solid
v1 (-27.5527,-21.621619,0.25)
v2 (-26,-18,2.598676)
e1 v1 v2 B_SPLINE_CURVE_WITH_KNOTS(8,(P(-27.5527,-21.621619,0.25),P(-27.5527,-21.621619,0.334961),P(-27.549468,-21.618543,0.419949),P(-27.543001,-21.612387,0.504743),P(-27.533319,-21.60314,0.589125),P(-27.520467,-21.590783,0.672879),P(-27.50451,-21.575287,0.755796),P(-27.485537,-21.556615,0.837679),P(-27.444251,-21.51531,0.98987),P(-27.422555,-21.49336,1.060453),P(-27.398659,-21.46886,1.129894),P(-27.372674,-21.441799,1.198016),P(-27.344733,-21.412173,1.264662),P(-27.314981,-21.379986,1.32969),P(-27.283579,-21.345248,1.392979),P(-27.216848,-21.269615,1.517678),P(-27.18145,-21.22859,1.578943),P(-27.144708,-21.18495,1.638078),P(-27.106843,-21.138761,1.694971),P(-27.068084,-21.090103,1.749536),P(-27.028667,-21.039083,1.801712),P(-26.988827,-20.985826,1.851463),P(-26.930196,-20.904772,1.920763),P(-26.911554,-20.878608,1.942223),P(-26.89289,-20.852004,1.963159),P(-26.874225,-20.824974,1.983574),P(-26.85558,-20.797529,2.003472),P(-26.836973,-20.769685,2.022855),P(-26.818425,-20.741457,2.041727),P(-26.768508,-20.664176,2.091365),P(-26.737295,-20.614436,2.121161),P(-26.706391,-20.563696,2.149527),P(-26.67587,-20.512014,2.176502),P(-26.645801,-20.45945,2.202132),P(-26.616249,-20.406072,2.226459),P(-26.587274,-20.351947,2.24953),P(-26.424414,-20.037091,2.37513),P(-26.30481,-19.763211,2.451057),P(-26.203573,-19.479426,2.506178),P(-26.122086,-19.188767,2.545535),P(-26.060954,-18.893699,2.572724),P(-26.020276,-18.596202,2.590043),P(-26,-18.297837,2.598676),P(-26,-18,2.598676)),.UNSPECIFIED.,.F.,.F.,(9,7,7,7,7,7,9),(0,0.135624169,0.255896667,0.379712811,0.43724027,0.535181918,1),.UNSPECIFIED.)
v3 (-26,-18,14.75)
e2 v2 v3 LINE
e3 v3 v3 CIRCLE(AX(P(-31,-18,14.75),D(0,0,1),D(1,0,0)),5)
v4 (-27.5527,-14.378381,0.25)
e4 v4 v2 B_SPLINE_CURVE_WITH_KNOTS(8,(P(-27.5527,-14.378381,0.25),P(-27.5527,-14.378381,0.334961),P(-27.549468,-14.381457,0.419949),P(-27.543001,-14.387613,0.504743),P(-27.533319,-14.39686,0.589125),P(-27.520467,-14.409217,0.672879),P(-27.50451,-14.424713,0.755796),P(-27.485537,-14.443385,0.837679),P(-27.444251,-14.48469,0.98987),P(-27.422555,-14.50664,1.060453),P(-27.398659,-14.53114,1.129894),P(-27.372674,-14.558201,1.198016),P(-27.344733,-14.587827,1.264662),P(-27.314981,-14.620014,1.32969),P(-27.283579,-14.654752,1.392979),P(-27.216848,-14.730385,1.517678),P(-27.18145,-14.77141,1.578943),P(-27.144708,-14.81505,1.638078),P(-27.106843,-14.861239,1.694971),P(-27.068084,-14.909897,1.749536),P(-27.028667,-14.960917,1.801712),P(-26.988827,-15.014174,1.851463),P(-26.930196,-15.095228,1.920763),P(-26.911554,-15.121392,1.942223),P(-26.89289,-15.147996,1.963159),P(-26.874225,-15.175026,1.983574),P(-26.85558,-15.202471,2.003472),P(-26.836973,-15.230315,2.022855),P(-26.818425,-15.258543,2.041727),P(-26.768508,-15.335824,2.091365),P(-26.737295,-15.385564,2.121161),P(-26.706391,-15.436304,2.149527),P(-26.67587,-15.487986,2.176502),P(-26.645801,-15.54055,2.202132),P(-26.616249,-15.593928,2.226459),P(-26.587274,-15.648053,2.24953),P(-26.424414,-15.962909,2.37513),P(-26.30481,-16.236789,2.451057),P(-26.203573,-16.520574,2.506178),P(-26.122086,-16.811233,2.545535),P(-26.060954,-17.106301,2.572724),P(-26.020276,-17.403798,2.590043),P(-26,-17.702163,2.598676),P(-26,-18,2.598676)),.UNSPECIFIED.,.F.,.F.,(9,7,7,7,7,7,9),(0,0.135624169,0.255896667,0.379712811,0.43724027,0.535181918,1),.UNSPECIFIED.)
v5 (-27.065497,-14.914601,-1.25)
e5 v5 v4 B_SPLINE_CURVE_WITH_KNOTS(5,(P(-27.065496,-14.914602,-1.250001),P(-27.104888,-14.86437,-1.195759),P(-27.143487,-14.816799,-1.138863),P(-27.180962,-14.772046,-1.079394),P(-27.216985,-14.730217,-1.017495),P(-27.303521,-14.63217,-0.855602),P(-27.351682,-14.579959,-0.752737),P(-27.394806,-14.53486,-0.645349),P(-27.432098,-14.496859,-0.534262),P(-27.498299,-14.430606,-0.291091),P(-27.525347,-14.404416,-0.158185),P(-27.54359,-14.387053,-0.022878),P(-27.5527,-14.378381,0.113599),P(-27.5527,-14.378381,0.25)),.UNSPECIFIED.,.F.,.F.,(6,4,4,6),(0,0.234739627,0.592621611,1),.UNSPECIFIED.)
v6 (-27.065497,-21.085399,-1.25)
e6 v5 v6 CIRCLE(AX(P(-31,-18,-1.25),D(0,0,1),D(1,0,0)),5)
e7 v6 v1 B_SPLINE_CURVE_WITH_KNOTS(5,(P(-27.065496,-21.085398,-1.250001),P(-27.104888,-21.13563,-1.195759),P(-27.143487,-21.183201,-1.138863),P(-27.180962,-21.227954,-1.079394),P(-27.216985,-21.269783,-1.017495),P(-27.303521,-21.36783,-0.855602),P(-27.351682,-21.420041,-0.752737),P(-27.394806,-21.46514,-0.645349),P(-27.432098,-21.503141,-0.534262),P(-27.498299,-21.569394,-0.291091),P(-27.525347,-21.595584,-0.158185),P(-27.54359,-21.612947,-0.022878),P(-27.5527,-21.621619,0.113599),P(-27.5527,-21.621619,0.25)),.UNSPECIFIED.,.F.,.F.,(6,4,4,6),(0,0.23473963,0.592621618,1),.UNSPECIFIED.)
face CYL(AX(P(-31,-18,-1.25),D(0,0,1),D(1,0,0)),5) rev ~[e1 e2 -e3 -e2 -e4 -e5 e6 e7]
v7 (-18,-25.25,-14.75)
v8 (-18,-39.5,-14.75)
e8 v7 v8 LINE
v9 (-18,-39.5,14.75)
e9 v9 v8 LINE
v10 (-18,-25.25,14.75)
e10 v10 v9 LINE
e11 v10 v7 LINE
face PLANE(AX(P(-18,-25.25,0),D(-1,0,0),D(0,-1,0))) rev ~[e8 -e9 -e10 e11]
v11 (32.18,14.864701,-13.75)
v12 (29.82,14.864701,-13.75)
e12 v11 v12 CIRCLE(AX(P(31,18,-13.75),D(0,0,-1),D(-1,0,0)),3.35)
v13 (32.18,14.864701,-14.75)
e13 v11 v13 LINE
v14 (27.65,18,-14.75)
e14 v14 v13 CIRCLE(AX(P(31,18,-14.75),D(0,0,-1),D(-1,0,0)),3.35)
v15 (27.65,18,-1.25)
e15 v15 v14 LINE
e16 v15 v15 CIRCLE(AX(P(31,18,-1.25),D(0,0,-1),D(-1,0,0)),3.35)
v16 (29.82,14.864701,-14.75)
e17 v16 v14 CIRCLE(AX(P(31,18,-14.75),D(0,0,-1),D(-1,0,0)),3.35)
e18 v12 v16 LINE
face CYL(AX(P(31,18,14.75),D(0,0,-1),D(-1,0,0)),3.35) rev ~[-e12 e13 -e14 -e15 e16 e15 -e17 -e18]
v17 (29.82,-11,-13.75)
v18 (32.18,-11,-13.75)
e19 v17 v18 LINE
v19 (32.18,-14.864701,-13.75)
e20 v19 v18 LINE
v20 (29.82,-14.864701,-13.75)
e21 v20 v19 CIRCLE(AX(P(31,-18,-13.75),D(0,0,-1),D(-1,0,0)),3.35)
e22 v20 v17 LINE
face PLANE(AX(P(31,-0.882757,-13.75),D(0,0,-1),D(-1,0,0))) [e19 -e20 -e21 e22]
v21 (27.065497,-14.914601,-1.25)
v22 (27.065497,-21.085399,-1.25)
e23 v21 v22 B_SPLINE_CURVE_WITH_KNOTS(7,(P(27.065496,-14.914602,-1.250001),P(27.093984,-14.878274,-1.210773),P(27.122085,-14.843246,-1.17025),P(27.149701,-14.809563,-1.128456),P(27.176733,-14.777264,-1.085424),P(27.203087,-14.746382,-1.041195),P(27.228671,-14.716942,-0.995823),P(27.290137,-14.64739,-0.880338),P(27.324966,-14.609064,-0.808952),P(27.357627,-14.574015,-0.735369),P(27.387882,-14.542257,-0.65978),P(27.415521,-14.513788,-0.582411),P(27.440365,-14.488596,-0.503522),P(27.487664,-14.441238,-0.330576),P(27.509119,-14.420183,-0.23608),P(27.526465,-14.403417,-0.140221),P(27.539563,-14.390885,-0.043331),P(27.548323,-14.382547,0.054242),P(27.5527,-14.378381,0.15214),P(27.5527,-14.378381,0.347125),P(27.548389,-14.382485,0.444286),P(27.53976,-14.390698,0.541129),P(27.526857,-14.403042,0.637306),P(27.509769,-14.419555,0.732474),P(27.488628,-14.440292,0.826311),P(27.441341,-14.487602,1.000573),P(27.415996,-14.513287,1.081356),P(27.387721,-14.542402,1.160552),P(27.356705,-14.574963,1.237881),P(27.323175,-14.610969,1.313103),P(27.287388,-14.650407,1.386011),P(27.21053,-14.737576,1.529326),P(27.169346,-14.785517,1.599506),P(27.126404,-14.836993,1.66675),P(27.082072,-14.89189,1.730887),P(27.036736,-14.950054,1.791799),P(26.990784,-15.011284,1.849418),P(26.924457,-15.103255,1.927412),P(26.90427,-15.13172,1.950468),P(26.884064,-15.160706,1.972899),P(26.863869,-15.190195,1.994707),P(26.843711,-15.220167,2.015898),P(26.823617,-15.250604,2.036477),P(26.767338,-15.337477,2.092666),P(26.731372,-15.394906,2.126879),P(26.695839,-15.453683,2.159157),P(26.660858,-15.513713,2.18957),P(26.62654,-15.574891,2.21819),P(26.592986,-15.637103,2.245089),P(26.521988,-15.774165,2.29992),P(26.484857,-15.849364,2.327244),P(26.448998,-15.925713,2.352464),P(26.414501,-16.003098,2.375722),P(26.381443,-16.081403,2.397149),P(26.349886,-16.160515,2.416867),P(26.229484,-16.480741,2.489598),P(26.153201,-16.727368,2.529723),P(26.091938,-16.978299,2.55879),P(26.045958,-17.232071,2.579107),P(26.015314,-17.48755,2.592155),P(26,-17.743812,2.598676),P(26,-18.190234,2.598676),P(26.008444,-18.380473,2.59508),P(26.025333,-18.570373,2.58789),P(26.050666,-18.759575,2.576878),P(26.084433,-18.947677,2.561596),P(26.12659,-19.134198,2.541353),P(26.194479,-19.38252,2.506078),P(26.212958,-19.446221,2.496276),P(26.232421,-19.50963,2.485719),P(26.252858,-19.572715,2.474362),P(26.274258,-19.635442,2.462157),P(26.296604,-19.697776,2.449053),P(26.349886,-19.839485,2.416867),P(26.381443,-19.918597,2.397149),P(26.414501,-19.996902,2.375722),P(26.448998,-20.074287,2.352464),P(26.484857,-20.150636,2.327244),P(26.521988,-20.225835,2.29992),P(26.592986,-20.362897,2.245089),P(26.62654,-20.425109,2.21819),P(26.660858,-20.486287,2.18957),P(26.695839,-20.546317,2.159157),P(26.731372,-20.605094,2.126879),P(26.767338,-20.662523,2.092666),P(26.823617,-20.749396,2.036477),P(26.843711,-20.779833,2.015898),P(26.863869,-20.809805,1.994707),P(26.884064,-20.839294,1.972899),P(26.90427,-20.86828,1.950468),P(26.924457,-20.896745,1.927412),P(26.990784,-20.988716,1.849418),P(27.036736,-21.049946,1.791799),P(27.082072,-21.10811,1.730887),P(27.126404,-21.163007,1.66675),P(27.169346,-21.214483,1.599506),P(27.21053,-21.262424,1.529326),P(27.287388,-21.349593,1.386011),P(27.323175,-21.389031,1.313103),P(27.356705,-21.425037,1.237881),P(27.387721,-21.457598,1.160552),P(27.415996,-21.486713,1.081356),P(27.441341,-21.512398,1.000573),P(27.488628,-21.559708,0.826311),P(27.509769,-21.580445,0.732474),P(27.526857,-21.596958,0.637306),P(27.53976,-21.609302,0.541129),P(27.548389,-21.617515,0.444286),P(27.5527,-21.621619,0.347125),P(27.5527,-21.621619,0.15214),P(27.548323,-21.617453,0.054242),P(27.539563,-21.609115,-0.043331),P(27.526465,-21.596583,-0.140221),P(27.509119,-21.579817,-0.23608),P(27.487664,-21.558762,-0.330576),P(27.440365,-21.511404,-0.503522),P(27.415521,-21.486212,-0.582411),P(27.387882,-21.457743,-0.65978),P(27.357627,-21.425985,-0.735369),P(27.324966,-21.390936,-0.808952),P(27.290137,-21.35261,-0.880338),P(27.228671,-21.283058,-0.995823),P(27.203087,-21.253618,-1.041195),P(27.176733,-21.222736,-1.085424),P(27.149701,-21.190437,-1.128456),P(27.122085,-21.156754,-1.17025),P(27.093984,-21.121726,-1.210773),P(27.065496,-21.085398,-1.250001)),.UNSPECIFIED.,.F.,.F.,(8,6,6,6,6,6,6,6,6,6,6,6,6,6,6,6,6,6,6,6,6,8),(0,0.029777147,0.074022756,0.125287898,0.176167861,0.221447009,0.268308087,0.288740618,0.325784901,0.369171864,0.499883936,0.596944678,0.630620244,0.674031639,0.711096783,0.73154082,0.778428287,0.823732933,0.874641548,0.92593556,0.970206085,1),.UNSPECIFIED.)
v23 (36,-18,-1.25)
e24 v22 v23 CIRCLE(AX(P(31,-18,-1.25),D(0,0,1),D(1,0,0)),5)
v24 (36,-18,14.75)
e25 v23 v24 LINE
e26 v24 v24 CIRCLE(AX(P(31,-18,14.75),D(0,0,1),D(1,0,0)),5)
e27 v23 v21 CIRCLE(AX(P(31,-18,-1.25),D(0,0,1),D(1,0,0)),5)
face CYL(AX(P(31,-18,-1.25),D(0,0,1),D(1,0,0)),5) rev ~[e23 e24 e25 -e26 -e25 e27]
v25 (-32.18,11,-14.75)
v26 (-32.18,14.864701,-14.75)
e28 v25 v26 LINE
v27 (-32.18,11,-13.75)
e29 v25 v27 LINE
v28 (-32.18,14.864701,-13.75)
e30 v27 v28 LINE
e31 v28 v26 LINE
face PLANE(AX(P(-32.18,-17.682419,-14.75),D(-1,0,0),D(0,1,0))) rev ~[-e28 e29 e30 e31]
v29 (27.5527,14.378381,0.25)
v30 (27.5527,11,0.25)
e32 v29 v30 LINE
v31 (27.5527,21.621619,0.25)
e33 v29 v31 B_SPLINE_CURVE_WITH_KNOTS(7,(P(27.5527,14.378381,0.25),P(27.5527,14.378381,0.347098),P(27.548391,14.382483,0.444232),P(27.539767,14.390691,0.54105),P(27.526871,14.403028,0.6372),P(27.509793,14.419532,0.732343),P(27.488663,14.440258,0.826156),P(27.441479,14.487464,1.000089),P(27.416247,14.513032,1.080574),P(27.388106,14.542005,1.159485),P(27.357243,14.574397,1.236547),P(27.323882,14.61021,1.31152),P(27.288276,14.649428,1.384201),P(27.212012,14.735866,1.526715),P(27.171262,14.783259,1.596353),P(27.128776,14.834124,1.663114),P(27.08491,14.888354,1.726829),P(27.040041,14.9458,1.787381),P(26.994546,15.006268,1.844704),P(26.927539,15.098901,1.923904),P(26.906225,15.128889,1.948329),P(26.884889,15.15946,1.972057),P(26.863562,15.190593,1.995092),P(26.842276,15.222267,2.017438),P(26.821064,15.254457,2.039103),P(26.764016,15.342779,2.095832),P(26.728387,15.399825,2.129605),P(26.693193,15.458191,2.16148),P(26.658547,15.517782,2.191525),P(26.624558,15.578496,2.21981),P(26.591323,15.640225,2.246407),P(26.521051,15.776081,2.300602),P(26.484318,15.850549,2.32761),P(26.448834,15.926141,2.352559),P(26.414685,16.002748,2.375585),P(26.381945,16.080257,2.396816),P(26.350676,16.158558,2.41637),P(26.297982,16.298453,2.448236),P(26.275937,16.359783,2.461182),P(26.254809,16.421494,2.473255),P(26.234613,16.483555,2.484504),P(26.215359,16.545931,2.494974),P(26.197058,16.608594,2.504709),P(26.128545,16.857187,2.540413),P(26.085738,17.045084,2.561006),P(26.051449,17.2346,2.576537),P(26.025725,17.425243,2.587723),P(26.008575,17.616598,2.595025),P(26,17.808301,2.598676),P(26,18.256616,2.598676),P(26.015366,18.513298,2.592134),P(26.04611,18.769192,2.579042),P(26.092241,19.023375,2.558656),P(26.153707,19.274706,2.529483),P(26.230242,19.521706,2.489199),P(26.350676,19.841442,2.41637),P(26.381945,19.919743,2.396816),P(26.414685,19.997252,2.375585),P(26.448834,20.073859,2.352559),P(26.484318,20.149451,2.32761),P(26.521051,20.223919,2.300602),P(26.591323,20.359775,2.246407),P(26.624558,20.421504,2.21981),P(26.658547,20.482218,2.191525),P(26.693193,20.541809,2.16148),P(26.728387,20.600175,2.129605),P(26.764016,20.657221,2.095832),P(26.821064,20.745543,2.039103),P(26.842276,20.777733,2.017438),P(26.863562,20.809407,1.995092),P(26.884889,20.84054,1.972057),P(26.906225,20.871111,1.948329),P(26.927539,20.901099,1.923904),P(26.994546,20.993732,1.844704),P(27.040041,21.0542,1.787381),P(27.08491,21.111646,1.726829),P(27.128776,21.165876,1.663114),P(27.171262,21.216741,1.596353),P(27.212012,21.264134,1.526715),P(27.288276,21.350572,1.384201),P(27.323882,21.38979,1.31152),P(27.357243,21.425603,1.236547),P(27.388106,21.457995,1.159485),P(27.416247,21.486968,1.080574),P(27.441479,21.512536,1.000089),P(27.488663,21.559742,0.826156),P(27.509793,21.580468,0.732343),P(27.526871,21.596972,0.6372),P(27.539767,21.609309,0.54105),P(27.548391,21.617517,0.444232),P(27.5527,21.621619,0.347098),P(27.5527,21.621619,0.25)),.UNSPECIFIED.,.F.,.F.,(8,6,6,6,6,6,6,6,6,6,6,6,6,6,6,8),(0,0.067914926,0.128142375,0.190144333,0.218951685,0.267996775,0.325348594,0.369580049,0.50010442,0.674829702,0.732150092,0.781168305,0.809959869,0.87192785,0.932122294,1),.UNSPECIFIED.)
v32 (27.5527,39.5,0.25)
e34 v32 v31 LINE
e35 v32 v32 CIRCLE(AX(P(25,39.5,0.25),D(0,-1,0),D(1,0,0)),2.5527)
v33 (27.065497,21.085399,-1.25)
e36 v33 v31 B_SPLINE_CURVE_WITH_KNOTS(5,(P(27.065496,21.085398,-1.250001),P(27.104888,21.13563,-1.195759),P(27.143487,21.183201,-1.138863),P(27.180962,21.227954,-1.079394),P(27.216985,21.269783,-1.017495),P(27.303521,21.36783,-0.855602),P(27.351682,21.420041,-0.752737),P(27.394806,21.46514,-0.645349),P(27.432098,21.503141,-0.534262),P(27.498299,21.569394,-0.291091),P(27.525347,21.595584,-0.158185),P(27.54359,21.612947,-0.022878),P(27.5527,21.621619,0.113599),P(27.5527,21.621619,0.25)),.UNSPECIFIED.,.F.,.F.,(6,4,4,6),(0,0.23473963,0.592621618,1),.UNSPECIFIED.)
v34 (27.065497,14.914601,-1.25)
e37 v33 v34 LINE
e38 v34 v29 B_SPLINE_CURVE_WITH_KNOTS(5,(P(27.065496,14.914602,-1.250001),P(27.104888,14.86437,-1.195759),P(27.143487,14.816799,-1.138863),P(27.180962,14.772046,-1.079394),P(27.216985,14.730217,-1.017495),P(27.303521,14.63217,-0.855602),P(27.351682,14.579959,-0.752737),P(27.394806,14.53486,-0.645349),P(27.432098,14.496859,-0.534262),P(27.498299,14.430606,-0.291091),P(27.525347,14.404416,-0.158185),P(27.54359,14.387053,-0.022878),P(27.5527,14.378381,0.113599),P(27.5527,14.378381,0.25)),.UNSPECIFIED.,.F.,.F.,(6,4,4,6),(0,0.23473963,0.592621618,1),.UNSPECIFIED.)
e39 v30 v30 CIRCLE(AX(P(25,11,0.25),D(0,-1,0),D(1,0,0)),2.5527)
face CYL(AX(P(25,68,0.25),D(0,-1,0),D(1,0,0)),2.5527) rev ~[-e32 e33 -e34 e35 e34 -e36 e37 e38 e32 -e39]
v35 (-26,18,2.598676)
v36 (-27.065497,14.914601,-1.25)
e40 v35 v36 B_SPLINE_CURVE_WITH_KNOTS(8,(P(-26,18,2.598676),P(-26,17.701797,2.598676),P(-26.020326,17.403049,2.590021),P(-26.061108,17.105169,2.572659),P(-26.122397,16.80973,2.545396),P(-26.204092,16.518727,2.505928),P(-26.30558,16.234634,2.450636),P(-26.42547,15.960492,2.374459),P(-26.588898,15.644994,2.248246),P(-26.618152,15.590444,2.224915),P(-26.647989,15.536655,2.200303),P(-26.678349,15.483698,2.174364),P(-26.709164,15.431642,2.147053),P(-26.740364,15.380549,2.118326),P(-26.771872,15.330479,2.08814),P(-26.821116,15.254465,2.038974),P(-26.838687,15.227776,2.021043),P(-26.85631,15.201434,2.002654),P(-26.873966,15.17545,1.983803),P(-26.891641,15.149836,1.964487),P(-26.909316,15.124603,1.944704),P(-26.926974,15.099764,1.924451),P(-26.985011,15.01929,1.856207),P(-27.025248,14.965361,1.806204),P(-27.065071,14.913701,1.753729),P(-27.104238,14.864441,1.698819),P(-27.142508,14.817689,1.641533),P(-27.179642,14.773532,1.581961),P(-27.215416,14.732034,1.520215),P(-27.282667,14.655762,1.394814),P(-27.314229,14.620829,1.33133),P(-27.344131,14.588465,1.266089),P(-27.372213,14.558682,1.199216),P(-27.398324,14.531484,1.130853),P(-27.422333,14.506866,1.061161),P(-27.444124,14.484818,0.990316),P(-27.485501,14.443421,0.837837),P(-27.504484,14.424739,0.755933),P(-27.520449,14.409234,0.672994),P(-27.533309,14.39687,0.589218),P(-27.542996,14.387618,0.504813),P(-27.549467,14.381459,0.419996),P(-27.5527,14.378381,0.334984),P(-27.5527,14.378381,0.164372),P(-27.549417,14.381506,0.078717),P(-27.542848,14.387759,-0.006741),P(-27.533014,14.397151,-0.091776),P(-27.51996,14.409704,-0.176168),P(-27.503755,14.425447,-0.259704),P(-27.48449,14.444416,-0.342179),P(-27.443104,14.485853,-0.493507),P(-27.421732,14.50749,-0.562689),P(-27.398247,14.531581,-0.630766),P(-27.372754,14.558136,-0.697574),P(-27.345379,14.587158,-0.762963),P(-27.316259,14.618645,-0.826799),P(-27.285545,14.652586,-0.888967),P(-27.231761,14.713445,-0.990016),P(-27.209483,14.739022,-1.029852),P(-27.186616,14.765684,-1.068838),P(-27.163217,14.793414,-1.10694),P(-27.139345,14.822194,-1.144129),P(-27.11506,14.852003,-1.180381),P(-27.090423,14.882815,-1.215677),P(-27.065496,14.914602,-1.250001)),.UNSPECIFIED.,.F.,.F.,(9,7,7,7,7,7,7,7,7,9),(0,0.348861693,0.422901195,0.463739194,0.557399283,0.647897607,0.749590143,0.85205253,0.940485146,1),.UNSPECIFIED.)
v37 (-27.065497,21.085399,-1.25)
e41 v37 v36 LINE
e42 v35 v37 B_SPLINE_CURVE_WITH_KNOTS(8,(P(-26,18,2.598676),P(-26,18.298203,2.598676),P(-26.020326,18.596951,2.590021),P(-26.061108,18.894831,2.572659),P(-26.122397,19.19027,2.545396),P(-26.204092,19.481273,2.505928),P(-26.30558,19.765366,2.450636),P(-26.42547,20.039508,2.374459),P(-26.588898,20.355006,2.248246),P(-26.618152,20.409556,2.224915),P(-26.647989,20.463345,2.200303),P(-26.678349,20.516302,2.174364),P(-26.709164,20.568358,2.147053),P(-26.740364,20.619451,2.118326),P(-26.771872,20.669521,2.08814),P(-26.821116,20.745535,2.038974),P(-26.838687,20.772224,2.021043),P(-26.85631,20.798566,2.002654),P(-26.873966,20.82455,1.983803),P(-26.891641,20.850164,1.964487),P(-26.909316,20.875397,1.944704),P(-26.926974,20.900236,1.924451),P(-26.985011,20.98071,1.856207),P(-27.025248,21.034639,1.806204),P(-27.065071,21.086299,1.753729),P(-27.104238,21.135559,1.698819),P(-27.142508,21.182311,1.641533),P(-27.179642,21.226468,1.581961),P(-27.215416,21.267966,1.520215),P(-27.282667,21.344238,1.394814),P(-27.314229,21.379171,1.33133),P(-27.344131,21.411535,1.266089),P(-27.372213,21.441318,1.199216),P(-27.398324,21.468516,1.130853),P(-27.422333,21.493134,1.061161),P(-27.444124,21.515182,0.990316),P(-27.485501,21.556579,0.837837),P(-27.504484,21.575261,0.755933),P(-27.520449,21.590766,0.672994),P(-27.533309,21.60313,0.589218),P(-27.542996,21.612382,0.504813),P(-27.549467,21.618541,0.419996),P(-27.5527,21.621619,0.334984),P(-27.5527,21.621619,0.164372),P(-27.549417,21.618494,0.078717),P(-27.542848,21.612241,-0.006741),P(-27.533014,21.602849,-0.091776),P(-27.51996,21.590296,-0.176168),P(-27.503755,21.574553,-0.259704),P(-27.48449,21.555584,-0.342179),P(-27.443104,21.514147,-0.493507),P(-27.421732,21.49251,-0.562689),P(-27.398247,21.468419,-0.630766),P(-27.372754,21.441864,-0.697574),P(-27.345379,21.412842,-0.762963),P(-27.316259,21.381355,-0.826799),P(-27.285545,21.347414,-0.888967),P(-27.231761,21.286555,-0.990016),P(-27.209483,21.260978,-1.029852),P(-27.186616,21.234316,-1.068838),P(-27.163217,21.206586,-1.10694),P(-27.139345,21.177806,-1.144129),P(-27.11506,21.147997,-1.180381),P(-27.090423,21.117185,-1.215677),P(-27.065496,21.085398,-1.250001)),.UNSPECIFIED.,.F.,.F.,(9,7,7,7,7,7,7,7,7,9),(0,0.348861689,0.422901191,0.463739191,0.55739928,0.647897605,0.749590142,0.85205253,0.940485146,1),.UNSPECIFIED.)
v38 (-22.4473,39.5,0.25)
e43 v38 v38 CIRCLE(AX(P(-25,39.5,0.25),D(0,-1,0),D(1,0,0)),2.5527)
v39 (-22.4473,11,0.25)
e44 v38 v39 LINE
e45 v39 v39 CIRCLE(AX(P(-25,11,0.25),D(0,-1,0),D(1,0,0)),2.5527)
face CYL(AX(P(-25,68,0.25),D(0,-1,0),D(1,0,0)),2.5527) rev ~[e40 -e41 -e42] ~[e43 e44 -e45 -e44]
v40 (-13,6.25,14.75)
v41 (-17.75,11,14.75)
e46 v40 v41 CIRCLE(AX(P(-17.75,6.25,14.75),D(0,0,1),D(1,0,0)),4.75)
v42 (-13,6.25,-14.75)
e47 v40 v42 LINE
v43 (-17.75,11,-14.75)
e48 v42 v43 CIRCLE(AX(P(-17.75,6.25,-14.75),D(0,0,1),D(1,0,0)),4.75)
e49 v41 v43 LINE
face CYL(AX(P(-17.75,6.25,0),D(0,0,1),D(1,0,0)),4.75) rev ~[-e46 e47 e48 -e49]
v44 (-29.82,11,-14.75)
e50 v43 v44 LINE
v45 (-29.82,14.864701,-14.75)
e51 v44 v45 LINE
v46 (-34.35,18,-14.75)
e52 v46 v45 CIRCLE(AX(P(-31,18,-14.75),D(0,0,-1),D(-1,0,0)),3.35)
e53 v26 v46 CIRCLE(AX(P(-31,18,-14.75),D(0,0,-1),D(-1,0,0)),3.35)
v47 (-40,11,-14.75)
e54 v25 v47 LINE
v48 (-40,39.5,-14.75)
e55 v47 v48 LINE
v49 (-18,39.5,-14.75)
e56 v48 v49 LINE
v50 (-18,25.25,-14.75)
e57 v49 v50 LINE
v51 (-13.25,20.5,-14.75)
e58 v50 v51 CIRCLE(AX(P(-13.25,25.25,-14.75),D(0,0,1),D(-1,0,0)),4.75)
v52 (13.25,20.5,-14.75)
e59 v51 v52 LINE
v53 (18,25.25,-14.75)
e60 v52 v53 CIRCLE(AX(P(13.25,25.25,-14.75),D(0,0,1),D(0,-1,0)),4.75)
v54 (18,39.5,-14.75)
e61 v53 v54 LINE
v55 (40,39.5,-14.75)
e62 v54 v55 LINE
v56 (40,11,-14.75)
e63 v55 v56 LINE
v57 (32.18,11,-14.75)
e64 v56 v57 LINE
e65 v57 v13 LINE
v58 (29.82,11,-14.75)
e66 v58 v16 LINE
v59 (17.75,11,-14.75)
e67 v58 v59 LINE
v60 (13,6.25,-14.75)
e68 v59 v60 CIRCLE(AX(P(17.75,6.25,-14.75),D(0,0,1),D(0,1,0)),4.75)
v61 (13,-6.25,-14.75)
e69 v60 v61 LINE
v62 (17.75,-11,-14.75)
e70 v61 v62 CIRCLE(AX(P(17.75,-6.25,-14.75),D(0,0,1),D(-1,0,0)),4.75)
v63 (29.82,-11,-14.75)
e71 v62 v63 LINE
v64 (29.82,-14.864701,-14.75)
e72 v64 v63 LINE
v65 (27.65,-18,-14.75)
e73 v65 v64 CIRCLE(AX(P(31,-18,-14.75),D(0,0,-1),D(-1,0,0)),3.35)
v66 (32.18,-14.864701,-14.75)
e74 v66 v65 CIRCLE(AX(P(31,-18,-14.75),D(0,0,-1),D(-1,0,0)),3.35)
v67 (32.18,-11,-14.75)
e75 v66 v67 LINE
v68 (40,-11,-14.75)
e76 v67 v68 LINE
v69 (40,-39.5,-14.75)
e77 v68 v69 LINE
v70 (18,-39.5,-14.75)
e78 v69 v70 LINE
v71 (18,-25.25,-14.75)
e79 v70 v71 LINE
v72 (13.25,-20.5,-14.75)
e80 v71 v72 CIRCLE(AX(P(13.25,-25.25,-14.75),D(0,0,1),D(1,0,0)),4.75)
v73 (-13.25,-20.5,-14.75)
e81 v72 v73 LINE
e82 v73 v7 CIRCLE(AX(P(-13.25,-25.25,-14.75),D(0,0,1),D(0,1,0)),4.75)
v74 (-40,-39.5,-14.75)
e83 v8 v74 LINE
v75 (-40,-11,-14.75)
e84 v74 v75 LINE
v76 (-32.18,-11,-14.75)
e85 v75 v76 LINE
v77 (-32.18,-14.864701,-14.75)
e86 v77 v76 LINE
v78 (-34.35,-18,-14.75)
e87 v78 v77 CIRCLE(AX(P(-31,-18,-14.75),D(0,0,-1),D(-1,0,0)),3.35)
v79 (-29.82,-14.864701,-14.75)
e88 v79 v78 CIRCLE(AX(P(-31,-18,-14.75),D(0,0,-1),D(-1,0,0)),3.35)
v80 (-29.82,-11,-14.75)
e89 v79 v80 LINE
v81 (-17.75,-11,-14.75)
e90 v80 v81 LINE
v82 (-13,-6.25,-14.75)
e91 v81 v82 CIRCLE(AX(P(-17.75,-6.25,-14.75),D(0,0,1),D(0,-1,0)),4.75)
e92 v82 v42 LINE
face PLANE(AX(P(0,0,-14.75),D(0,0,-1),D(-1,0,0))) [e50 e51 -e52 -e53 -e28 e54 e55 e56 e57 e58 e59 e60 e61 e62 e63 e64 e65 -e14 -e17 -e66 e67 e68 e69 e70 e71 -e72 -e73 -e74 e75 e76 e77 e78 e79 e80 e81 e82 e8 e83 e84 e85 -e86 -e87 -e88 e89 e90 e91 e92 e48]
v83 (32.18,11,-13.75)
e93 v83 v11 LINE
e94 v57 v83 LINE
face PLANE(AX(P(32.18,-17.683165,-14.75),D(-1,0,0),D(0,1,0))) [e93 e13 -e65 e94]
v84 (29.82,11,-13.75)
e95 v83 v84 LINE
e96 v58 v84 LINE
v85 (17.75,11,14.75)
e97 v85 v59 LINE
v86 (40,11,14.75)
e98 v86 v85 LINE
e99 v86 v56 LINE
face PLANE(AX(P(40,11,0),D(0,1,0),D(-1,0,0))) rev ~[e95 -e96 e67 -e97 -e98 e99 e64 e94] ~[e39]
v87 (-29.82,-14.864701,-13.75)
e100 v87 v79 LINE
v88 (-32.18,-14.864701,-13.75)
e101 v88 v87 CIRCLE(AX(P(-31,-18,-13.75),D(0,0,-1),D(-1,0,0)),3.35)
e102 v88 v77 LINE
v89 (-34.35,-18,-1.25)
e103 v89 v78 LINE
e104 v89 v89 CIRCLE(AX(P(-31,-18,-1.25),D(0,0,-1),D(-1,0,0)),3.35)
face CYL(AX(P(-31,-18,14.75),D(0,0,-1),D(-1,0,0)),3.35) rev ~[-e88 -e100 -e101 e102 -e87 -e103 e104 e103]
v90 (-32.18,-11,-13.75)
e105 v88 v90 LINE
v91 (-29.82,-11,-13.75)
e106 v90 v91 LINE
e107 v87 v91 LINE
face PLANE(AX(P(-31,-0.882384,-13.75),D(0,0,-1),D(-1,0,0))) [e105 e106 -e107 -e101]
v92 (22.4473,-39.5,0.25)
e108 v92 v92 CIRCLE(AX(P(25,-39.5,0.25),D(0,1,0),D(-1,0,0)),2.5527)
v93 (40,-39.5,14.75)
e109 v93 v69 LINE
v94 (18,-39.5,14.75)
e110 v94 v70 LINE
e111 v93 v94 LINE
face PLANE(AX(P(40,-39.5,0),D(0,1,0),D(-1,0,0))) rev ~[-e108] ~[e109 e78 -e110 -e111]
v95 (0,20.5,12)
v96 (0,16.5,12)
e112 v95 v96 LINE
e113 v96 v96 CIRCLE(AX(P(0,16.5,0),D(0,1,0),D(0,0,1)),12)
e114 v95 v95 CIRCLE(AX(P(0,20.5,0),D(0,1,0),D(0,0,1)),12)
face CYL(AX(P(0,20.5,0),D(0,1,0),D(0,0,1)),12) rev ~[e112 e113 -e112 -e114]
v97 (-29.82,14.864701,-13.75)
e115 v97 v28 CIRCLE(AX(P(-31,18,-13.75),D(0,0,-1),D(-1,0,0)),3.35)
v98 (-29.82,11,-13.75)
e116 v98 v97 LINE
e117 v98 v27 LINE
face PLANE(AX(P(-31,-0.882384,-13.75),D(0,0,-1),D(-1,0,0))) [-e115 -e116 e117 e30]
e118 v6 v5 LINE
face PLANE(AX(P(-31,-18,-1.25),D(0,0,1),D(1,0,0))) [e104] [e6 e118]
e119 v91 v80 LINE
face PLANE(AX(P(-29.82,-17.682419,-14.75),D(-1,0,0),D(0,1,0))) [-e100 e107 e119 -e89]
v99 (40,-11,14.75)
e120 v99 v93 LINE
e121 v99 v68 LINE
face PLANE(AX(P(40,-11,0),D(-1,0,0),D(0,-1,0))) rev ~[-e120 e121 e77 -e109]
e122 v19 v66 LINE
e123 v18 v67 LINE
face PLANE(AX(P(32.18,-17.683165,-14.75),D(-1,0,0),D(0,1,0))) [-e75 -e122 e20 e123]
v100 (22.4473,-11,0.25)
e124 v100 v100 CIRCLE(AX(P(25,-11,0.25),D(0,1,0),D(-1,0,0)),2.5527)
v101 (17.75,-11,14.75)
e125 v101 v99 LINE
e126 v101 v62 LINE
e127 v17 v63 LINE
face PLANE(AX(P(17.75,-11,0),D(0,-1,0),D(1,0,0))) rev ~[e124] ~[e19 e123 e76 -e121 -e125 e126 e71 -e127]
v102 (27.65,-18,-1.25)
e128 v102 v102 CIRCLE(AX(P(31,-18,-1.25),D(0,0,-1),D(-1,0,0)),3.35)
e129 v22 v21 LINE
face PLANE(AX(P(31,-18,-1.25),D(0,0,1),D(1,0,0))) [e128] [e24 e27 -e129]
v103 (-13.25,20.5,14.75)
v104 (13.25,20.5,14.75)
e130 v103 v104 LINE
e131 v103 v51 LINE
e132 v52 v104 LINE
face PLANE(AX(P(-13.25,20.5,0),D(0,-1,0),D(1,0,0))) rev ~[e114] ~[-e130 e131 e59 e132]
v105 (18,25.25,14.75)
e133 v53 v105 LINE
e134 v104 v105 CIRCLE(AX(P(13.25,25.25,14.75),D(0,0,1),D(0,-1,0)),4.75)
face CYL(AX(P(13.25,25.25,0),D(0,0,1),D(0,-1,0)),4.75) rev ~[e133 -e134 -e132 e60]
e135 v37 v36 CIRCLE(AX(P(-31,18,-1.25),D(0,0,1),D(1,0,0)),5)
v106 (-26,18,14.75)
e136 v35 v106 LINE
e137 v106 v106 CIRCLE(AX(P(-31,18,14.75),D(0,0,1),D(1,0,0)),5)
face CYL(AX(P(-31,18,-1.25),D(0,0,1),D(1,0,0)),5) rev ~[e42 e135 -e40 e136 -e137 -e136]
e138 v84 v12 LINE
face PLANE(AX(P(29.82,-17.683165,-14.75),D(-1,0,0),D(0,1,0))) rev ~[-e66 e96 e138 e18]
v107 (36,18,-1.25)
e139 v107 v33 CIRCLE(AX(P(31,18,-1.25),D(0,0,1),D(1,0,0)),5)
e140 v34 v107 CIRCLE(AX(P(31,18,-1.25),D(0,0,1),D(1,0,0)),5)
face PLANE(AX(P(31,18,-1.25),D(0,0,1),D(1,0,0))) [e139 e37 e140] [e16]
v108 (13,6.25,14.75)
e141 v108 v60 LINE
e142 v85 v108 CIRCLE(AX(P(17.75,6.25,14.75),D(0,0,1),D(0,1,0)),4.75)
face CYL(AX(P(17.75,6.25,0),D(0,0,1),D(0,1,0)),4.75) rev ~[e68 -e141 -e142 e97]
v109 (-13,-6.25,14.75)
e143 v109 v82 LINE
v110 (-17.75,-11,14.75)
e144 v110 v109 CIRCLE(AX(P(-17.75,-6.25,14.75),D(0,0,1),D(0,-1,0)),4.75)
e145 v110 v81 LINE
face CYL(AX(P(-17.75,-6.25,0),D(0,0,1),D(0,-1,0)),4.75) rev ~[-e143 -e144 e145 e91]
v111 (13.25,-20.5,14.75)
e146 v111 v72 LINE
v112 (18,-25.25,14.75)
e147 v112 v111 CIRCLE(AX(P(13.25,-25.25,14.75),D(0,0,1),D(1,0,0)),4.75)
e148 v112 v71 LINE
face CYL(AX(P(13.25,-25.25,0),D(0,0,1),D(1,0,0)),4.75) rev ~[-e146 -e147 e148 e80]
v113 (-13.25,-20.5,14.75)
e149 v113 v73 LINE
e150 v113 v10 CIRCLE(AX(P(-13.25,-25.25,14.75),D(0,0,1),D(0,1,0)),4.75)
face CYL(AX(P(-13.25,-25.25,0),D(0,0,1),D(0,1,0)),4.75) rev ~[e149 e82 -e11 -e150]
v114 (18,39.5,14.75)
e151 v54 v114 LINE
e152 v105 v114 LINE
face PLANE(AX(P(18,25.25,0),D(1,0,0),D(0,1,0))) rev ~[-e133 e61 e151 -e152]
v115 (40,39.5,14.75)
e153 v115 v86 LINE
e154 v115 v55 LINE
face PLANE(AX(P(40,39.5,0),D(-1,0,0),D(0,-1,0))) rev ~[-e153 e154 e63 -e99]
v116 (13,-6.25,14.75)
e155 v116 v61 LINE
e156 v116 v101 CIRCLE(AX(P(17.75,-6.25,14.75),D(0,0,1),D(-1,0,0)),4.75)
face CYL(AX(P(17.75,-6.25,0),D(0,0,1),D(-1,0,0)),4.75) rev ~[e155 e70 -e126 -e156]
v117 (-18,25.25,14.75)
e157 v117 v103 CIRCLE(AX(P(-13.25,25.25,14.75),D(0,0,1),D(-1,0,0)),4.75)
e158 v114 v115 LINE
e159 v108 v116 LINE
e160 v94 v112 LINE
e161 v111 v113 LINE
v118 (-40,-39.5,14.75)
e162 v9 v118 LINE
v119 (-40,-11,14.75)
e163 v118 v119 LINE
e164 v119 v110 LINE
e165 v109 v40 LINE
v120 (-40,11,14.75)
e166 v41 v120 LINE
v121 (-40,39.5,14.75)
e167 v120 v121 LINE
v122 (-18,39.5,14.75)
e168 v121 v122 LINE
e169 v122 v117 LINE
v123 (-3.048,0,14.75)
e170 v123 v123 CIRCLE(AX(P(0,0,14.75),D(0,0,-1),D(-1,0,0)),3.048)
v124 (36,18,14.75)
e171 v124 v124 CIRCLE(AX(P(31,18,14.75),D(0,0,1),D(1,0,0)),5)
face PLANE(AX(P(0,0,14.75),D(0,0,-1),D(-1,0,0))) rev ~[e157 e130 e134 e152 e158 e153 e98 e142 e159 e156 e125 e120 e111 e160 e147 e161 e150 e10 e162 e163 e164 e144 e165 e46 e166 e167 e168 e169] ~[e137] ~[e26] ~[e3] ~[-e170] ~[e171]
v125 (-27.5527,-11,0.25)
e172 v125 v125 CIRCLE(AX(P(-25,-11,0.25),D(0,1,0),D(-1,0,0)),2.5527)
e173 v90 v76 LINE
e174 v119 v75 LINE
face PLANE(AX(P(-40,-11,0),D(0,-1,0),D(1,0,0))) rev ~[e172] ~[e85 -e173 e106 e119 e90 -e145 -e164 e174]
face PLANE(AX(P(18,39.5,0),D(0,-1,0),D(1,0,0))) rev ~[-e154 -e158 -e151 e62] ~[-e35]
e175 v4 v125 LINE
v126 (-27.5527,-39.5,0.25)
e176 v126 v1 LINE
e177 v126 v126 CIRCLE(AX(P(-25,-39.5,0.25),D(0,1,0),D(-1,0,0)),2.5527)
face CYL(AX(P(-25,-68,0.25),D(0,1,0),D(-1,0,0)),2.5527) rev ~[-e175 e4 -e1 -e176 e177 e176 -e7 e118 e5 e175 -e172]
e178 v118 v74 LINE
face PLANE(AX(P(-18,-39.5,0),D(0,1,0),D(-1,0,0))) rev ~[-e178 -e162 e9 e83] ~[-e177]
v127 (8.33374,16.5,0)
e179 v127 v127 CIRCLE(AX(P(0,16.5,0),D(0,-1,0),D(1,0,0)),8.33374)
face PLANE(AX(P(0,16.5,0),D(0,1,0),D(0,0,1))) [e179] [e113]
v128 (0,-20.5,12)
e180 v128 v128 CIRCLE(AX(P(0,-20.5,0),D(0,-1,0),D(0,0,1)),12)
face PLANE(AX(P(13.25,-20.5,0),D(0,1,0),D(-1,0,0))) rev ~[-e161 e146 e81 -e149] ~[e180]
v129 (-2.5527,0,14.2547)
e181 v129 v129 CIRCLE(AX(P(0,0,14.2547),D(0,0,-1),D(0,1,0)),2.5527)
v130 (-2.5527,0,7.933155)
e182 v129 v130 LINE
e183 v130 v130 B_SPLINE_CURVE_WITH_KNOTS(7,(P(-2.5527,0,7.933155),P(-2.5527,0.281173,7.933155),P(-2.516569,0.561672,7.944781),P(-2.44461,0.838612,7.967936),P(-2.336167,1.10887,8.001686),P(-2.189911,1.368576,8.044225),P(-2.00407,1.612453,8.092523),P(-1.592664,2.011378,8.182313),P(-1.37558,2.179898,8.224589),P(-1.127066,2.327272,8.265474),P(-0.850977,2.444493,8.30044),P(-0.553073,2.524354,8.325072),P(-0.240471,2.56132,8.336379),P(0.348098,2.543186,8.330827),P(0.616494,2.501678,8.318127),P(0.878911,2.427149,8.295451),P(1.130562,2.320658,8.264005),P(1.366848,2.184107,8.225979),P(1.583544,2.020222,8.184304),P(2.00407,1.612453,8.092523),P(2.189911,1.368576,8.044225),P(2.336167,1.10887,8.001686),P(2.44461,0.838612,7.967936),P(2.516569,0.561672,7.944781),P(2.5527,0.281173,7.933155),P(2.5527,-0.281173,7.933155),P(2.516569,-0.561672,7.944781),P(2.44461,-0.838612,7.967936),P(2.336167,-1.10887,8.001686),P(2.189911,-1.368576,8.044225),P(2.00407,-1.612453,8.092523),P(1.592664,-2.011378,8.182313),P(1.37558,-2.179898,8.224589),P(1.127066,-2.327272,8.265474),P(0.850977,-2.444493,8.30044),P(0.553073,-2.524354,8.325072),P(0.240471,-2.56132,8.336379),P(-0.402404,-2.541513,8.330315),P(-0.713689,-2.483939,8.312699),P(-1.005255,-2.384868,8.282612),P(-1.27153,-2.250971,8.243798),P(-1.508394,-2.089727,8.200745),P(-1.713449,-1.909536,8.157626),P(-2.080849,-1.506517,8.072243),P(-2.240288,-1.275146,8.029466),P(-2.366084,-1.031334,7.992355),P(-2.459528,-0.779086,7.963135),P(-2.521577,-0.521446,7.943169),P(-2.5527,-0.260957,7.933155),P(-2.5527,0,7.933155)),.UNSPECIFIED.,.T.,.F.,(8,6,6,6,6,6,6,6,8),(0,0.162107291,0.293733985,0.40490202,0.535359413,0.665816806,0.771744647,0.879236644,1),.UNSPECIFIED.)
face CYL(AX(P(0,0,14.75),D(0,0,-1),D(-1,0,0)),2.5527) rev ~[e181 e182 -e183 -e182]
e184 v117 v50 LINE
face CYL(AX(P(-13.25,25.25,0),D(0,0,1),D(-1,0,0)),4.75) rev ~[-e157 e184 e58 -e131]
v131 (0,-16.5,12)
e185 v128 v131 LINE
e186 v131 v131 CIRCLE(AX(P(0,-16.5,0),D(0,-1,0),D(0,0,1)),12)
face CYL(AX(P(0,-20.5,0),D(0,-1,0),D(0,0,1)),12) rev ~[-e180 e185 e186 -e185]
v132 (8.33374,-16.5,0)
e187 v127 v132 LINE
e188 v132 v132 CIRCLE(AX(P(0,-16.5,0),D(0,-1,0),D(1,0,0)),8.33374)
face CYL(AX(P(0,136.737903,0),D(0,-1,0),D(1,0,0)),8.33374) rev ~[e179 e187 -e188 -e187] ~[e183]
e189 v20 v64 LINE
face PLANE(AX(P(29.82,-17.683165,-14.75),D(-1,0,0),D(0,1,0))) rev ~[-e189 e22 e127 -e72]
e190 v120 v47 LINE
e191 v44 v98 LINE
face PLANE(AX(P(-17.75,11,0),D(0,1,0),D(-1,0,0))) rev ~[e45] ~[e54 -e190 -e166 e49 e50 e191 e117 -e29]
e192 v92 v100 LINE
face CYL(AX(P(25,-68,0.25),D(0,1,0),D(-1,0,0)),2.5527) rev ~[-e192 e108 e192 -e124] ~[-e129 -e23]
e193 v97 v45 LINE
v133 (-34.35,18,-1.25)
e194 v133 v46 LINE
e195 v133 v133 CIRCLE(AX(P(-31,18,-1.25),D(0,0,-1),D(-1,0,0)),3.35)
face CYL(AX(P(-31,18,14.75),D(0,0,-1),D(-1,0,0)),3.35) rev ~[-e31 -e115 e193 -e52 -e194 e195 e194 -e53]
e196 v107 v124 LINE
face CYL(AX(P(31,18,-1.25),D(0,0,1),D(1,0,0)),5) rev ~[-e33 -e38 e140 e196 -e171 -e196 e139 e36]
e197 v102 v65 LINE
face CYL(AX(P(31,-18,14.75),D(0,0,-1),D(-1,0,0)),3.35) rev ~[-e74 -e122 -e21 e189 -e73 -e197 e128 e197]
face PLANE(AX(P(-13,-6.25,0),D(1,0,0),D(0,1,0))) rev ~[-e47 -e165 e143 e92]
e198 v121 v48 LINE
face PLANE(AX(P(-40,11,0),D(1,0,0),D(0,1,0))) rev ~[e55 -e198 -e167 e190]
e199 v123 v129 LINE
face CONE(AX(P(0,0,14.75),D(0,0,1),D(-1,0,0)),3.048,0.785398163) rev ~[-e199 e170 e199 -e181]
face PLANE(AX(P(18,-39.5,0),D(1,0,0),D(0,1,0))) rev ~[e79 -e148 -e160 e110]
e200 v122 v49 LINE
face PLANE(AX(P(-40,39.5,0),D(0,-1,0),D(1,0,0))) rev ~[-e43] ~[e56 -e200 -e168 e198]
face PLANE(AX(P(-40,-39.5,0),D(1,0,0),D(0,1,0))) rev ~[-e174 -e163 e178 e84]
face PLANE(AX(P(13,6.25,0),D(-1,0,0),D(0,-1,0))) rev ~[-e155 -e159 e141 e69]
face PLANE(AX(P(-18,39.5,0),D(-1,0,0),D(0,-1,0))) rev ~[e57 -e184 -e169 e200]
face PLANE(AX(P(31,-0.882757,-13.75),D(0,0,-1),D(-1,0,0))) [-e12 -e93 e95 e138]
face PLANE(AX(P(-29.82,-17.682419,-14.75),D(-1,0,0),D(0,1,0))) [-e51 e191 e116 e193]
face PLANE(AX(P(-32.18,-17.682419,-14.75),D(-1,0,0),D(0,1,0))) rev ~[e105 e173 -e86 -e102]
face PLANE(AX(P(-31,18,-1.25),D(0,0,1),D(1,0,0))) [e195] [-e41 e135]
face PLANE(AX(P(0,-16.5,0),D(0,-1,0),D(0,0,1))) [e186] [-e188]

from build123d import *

# Parameters (mm, degrees)
BOSS_EXTRUDE1_DEPTH                         = 14.75
CBORE_FOR_M6_HEX_HEAD_BOLT1_D               = 6.7
CBORE_FOR_M6_HEX_HEAD_BOLT1_CBORE_D         = 10
CBORE_FOR_M6_HEX_HEAD_BOLT1_CBORE_DEPTH     = 16
TAPPED_HOLE_FOR_10_32_HELICOIL1_D           = 5.1054
TAPPED_HOLE_FOR_10_32_HELICOIL1_DEPTH       = 11.9888
TAPPED_HOLE_FOR_10_32_HELICOIL1_CSINK_D     = 6.096
TAPPED_HOLE_FOR_10_32_HELICOIL1_CSINK_ANGLE = 90
TAPPED_HOLE_FOR_10_32_HELICOIL1_TIP         = 1.533816902
F_3_4_10_TAPPED_HOLE1_D                     = 16.66748
SKETCH11_R                                  = 12
CUT_EXTRUDE1_DEPTH                          = 4
SKETCH12_R                                  = 12
CUT_EXTRUDE2_DEPTH                          = 4
F_1_4_20_TAPPED_HOLE1_D                     = 5.1054
F_1_4_20_TAPPED_HOLE1_DEPTH                 = 28.5
F_1_4_20_TAPPED_HOLE2_D                     = 5.1054
F_1_4_20_TAPPED_HOLE2_DEPTH                 = 28.5
SKETCH20_W                                  = 2.36
SKETCH20_H                                  = 33.600070702
SKETCH20_H_2                                = 33.600816511
CUT_EXTRUDE3_DEPTH                          = 1


with BuildPart() as part:
    # Sketch1 → Boss-Extrude1 (new body, symmetric)
    with BuildSketch(Plane.XY):
        with BuildLine():
            Line((18, 39.5), (40, 39.5))
            Line((40, 39.5), (40, 11))
            Line((40, 11), (17.75, 11))
            ThreePointArc((17.75, 11), (14.391242789, 9.608757211), (13, 6.25))
            Line((13, 6.25), (13, -6.25))
            ThreePointArc((13, -6.25), (14.391242789, -9.608757211), (17.75, -11))
            Line((17.75, -11), (40, -11))
            Line((40, -11), (40, -39.5))
            Line((40, -39.5), (18, -39.5))
            Line((18, -39.5), (18, -25.25))
            ThreePointArc((18, -25.25), (16.608757211, -21.891242789), (13.25, -20.5))
            Line((13.25, -20.5), (-13.25, -20.5))
            ThreePointArc((-13.25, -20.5), (-16.608757211, -21.891242789), (-18, -25.25))
            Line((-18, -25.25), (-18, -39.5))
            Line((-18, -39.5), (-40, -39.5))
            Line((-40, -39.5), (-40, -11))
            Line((-40, -11), (-17.75, -11))
            ThreePointArc((-17.75, -11), (-14.391242789, -9.608757211), (-13, -6.25))
            Line((-13, -6.25), (-13, 6.25))
            ThreePointArc((-13, 6.25), (-14.391242789, 9.608757211), (-17.75, 11))
            Line((-17.75, 11), (-40, 11))
            Line((-40, 11), (-40, 39.5))
            Line((-40, 39.5), (-18, 39.5))
            Line((-18, 39.5), (-18, 25.25))
            ThreePointArc((-18, 25.25), (-16.608757211, 21.891242789), (-13.25, 20.5))
            Line((-13.25, 20.5), (13.25, 20.5))
            ThreePointArc((13.25, 20.5), (16.608757211, 21.891242789), (18, 25.25))
            Line((18, 25.25), (18, 39.5))
        make_face()
    extrude(amount=BOSS_EXTRUDE1_DEPTH, both=True)

    # CBORE for M6 Hex Head Bolt1 (through all)
    with Locations(Plane.XY.offset(14.75)):
        with Locations((31, 18), (-31, 18), (-31, -18), (31, -18)):
            CounterBoreHole(CBORE_FOR_M6_HEX_HEAD_BOLT1_D / 2, CBORE_FOR_M6_HEX_HEAD_BOLT1_CBORE_D / 2, CBORE_FOR_M6_HEX_HEAD_BOLT1_CBORE_DEPTH)

    # Tapped Hole for #10-32 Helicoil1
    with Locations(Plane.XY.offset(14.75)):
        with Locations((0, 0)):
            CounterSinkHole(TAPPED_HOLE_FOR_10_32_HELICOIL1_D / 2, TAPPED_HOLE_FOR_10_32_HELICOIL1_CSINK_D / 2, depth=TAPPED_HOLE_FOR_10_32_HELICOIL1_DEPTH, counter_sink_angle=TAPPED_HOLE_FOR_10_32_HELICOIL1_CSINK_ANGLE)
            with Locations((0, 0, -(TAPPED_HOLE_FOR_10_32_HELICOIL1_DEPTH + TAPPED_HOLE_FOR_10_32_HELICOIL1_TIP / 2))):  # 118° drill point
                Cone(0, TAPPED_HOLE_FOR_10_32_HELICOIL1_D / 2, TAPPED_HOLE_FOR_10_32_HELICOIL1_TIP, mode=Mode.SUBTRACT)

    # 3/4-10 Tapped Hole1 (through all)
    with Locations(Plane(origin=(0, 20.5, 0), x_dir=(-1, 0, 0), z_dir=(0, 1, 0))):
        with Locations((0, 0)):
            Hole(F_3_4_10_TAPPED_HOLE1_D / 2)

    # Sketch11 → Cut-Extrude1 (cut)
    with BuildSketch(Plane(origin=(0, 20.5, 0), x_dir=(1, 0, 0), z_dir=(0, 1, 0))):
        with Locations(Location((0, 0, 0), (0, 0, 270))):  # turned: the seam where the file's is
            Circle(SKETCH11_R)
    extrude(amount=-CUT_EXTRUDE1_DEPTH, mode=Mode.SUBTRACT)

    # Sketch12 → Cut-Extrude2 (cut)
    with BuildSketch(Plane.XZ.offset(20.5)):
        with Locations(Location((0, 0, 0), (0, 0, 90))):  # turned: the seam where the file's is
            Circle(SKETCH12_R)
    extrude(amount=-CUT_EXTRUDE2_DEPTH, mode=Mode.SUBTRACT)

    # 1/4-20 Tapped Hole1
    with Locations(Plane(origin=(0, 39.5, 0), x_dir=(-1, 0, 0), z_dir=(0, 1, 0))):
        with Locations((-25, 0.25), (25, 0.25)):
            Hole(F_1_4_20_TAPPED_HOLE1_D / 2, depth=F_1_4_20_TAPPED_HOLE1_DEPTH)

    # 1/4-20 Tapped Hole2
    with Locations(Plane.XZ.offset(39.5)):
        with Locations((25, 0.25), (-25, 0.25)):
            Hole(F_1_4_20_TAPPED_HOLE2_D / 2, depth=F_1_4_20_TAPPED_HOLE2_DEPTH)

    # Sketch20 → Cut-Extrude3 (cut)
    with BuildSketch(Plane(origin=(0, 0, -14.75), x_dir=(-1, 0, 0), z_dir=(0, 0, -1))):
        with Locations((31, -0.882383927)):
            Rectangle(SKETCH20_W, SKETCH20_H)
        with Locations((-31, -0.882756832)):
            Rectangle(SKETCH20_W, SKETCH20_H_2)
    extrude(amount=-CUT_EXTRUDE3_DEPTH, mode=Mode.SUBTRACT)


solid = part.part
